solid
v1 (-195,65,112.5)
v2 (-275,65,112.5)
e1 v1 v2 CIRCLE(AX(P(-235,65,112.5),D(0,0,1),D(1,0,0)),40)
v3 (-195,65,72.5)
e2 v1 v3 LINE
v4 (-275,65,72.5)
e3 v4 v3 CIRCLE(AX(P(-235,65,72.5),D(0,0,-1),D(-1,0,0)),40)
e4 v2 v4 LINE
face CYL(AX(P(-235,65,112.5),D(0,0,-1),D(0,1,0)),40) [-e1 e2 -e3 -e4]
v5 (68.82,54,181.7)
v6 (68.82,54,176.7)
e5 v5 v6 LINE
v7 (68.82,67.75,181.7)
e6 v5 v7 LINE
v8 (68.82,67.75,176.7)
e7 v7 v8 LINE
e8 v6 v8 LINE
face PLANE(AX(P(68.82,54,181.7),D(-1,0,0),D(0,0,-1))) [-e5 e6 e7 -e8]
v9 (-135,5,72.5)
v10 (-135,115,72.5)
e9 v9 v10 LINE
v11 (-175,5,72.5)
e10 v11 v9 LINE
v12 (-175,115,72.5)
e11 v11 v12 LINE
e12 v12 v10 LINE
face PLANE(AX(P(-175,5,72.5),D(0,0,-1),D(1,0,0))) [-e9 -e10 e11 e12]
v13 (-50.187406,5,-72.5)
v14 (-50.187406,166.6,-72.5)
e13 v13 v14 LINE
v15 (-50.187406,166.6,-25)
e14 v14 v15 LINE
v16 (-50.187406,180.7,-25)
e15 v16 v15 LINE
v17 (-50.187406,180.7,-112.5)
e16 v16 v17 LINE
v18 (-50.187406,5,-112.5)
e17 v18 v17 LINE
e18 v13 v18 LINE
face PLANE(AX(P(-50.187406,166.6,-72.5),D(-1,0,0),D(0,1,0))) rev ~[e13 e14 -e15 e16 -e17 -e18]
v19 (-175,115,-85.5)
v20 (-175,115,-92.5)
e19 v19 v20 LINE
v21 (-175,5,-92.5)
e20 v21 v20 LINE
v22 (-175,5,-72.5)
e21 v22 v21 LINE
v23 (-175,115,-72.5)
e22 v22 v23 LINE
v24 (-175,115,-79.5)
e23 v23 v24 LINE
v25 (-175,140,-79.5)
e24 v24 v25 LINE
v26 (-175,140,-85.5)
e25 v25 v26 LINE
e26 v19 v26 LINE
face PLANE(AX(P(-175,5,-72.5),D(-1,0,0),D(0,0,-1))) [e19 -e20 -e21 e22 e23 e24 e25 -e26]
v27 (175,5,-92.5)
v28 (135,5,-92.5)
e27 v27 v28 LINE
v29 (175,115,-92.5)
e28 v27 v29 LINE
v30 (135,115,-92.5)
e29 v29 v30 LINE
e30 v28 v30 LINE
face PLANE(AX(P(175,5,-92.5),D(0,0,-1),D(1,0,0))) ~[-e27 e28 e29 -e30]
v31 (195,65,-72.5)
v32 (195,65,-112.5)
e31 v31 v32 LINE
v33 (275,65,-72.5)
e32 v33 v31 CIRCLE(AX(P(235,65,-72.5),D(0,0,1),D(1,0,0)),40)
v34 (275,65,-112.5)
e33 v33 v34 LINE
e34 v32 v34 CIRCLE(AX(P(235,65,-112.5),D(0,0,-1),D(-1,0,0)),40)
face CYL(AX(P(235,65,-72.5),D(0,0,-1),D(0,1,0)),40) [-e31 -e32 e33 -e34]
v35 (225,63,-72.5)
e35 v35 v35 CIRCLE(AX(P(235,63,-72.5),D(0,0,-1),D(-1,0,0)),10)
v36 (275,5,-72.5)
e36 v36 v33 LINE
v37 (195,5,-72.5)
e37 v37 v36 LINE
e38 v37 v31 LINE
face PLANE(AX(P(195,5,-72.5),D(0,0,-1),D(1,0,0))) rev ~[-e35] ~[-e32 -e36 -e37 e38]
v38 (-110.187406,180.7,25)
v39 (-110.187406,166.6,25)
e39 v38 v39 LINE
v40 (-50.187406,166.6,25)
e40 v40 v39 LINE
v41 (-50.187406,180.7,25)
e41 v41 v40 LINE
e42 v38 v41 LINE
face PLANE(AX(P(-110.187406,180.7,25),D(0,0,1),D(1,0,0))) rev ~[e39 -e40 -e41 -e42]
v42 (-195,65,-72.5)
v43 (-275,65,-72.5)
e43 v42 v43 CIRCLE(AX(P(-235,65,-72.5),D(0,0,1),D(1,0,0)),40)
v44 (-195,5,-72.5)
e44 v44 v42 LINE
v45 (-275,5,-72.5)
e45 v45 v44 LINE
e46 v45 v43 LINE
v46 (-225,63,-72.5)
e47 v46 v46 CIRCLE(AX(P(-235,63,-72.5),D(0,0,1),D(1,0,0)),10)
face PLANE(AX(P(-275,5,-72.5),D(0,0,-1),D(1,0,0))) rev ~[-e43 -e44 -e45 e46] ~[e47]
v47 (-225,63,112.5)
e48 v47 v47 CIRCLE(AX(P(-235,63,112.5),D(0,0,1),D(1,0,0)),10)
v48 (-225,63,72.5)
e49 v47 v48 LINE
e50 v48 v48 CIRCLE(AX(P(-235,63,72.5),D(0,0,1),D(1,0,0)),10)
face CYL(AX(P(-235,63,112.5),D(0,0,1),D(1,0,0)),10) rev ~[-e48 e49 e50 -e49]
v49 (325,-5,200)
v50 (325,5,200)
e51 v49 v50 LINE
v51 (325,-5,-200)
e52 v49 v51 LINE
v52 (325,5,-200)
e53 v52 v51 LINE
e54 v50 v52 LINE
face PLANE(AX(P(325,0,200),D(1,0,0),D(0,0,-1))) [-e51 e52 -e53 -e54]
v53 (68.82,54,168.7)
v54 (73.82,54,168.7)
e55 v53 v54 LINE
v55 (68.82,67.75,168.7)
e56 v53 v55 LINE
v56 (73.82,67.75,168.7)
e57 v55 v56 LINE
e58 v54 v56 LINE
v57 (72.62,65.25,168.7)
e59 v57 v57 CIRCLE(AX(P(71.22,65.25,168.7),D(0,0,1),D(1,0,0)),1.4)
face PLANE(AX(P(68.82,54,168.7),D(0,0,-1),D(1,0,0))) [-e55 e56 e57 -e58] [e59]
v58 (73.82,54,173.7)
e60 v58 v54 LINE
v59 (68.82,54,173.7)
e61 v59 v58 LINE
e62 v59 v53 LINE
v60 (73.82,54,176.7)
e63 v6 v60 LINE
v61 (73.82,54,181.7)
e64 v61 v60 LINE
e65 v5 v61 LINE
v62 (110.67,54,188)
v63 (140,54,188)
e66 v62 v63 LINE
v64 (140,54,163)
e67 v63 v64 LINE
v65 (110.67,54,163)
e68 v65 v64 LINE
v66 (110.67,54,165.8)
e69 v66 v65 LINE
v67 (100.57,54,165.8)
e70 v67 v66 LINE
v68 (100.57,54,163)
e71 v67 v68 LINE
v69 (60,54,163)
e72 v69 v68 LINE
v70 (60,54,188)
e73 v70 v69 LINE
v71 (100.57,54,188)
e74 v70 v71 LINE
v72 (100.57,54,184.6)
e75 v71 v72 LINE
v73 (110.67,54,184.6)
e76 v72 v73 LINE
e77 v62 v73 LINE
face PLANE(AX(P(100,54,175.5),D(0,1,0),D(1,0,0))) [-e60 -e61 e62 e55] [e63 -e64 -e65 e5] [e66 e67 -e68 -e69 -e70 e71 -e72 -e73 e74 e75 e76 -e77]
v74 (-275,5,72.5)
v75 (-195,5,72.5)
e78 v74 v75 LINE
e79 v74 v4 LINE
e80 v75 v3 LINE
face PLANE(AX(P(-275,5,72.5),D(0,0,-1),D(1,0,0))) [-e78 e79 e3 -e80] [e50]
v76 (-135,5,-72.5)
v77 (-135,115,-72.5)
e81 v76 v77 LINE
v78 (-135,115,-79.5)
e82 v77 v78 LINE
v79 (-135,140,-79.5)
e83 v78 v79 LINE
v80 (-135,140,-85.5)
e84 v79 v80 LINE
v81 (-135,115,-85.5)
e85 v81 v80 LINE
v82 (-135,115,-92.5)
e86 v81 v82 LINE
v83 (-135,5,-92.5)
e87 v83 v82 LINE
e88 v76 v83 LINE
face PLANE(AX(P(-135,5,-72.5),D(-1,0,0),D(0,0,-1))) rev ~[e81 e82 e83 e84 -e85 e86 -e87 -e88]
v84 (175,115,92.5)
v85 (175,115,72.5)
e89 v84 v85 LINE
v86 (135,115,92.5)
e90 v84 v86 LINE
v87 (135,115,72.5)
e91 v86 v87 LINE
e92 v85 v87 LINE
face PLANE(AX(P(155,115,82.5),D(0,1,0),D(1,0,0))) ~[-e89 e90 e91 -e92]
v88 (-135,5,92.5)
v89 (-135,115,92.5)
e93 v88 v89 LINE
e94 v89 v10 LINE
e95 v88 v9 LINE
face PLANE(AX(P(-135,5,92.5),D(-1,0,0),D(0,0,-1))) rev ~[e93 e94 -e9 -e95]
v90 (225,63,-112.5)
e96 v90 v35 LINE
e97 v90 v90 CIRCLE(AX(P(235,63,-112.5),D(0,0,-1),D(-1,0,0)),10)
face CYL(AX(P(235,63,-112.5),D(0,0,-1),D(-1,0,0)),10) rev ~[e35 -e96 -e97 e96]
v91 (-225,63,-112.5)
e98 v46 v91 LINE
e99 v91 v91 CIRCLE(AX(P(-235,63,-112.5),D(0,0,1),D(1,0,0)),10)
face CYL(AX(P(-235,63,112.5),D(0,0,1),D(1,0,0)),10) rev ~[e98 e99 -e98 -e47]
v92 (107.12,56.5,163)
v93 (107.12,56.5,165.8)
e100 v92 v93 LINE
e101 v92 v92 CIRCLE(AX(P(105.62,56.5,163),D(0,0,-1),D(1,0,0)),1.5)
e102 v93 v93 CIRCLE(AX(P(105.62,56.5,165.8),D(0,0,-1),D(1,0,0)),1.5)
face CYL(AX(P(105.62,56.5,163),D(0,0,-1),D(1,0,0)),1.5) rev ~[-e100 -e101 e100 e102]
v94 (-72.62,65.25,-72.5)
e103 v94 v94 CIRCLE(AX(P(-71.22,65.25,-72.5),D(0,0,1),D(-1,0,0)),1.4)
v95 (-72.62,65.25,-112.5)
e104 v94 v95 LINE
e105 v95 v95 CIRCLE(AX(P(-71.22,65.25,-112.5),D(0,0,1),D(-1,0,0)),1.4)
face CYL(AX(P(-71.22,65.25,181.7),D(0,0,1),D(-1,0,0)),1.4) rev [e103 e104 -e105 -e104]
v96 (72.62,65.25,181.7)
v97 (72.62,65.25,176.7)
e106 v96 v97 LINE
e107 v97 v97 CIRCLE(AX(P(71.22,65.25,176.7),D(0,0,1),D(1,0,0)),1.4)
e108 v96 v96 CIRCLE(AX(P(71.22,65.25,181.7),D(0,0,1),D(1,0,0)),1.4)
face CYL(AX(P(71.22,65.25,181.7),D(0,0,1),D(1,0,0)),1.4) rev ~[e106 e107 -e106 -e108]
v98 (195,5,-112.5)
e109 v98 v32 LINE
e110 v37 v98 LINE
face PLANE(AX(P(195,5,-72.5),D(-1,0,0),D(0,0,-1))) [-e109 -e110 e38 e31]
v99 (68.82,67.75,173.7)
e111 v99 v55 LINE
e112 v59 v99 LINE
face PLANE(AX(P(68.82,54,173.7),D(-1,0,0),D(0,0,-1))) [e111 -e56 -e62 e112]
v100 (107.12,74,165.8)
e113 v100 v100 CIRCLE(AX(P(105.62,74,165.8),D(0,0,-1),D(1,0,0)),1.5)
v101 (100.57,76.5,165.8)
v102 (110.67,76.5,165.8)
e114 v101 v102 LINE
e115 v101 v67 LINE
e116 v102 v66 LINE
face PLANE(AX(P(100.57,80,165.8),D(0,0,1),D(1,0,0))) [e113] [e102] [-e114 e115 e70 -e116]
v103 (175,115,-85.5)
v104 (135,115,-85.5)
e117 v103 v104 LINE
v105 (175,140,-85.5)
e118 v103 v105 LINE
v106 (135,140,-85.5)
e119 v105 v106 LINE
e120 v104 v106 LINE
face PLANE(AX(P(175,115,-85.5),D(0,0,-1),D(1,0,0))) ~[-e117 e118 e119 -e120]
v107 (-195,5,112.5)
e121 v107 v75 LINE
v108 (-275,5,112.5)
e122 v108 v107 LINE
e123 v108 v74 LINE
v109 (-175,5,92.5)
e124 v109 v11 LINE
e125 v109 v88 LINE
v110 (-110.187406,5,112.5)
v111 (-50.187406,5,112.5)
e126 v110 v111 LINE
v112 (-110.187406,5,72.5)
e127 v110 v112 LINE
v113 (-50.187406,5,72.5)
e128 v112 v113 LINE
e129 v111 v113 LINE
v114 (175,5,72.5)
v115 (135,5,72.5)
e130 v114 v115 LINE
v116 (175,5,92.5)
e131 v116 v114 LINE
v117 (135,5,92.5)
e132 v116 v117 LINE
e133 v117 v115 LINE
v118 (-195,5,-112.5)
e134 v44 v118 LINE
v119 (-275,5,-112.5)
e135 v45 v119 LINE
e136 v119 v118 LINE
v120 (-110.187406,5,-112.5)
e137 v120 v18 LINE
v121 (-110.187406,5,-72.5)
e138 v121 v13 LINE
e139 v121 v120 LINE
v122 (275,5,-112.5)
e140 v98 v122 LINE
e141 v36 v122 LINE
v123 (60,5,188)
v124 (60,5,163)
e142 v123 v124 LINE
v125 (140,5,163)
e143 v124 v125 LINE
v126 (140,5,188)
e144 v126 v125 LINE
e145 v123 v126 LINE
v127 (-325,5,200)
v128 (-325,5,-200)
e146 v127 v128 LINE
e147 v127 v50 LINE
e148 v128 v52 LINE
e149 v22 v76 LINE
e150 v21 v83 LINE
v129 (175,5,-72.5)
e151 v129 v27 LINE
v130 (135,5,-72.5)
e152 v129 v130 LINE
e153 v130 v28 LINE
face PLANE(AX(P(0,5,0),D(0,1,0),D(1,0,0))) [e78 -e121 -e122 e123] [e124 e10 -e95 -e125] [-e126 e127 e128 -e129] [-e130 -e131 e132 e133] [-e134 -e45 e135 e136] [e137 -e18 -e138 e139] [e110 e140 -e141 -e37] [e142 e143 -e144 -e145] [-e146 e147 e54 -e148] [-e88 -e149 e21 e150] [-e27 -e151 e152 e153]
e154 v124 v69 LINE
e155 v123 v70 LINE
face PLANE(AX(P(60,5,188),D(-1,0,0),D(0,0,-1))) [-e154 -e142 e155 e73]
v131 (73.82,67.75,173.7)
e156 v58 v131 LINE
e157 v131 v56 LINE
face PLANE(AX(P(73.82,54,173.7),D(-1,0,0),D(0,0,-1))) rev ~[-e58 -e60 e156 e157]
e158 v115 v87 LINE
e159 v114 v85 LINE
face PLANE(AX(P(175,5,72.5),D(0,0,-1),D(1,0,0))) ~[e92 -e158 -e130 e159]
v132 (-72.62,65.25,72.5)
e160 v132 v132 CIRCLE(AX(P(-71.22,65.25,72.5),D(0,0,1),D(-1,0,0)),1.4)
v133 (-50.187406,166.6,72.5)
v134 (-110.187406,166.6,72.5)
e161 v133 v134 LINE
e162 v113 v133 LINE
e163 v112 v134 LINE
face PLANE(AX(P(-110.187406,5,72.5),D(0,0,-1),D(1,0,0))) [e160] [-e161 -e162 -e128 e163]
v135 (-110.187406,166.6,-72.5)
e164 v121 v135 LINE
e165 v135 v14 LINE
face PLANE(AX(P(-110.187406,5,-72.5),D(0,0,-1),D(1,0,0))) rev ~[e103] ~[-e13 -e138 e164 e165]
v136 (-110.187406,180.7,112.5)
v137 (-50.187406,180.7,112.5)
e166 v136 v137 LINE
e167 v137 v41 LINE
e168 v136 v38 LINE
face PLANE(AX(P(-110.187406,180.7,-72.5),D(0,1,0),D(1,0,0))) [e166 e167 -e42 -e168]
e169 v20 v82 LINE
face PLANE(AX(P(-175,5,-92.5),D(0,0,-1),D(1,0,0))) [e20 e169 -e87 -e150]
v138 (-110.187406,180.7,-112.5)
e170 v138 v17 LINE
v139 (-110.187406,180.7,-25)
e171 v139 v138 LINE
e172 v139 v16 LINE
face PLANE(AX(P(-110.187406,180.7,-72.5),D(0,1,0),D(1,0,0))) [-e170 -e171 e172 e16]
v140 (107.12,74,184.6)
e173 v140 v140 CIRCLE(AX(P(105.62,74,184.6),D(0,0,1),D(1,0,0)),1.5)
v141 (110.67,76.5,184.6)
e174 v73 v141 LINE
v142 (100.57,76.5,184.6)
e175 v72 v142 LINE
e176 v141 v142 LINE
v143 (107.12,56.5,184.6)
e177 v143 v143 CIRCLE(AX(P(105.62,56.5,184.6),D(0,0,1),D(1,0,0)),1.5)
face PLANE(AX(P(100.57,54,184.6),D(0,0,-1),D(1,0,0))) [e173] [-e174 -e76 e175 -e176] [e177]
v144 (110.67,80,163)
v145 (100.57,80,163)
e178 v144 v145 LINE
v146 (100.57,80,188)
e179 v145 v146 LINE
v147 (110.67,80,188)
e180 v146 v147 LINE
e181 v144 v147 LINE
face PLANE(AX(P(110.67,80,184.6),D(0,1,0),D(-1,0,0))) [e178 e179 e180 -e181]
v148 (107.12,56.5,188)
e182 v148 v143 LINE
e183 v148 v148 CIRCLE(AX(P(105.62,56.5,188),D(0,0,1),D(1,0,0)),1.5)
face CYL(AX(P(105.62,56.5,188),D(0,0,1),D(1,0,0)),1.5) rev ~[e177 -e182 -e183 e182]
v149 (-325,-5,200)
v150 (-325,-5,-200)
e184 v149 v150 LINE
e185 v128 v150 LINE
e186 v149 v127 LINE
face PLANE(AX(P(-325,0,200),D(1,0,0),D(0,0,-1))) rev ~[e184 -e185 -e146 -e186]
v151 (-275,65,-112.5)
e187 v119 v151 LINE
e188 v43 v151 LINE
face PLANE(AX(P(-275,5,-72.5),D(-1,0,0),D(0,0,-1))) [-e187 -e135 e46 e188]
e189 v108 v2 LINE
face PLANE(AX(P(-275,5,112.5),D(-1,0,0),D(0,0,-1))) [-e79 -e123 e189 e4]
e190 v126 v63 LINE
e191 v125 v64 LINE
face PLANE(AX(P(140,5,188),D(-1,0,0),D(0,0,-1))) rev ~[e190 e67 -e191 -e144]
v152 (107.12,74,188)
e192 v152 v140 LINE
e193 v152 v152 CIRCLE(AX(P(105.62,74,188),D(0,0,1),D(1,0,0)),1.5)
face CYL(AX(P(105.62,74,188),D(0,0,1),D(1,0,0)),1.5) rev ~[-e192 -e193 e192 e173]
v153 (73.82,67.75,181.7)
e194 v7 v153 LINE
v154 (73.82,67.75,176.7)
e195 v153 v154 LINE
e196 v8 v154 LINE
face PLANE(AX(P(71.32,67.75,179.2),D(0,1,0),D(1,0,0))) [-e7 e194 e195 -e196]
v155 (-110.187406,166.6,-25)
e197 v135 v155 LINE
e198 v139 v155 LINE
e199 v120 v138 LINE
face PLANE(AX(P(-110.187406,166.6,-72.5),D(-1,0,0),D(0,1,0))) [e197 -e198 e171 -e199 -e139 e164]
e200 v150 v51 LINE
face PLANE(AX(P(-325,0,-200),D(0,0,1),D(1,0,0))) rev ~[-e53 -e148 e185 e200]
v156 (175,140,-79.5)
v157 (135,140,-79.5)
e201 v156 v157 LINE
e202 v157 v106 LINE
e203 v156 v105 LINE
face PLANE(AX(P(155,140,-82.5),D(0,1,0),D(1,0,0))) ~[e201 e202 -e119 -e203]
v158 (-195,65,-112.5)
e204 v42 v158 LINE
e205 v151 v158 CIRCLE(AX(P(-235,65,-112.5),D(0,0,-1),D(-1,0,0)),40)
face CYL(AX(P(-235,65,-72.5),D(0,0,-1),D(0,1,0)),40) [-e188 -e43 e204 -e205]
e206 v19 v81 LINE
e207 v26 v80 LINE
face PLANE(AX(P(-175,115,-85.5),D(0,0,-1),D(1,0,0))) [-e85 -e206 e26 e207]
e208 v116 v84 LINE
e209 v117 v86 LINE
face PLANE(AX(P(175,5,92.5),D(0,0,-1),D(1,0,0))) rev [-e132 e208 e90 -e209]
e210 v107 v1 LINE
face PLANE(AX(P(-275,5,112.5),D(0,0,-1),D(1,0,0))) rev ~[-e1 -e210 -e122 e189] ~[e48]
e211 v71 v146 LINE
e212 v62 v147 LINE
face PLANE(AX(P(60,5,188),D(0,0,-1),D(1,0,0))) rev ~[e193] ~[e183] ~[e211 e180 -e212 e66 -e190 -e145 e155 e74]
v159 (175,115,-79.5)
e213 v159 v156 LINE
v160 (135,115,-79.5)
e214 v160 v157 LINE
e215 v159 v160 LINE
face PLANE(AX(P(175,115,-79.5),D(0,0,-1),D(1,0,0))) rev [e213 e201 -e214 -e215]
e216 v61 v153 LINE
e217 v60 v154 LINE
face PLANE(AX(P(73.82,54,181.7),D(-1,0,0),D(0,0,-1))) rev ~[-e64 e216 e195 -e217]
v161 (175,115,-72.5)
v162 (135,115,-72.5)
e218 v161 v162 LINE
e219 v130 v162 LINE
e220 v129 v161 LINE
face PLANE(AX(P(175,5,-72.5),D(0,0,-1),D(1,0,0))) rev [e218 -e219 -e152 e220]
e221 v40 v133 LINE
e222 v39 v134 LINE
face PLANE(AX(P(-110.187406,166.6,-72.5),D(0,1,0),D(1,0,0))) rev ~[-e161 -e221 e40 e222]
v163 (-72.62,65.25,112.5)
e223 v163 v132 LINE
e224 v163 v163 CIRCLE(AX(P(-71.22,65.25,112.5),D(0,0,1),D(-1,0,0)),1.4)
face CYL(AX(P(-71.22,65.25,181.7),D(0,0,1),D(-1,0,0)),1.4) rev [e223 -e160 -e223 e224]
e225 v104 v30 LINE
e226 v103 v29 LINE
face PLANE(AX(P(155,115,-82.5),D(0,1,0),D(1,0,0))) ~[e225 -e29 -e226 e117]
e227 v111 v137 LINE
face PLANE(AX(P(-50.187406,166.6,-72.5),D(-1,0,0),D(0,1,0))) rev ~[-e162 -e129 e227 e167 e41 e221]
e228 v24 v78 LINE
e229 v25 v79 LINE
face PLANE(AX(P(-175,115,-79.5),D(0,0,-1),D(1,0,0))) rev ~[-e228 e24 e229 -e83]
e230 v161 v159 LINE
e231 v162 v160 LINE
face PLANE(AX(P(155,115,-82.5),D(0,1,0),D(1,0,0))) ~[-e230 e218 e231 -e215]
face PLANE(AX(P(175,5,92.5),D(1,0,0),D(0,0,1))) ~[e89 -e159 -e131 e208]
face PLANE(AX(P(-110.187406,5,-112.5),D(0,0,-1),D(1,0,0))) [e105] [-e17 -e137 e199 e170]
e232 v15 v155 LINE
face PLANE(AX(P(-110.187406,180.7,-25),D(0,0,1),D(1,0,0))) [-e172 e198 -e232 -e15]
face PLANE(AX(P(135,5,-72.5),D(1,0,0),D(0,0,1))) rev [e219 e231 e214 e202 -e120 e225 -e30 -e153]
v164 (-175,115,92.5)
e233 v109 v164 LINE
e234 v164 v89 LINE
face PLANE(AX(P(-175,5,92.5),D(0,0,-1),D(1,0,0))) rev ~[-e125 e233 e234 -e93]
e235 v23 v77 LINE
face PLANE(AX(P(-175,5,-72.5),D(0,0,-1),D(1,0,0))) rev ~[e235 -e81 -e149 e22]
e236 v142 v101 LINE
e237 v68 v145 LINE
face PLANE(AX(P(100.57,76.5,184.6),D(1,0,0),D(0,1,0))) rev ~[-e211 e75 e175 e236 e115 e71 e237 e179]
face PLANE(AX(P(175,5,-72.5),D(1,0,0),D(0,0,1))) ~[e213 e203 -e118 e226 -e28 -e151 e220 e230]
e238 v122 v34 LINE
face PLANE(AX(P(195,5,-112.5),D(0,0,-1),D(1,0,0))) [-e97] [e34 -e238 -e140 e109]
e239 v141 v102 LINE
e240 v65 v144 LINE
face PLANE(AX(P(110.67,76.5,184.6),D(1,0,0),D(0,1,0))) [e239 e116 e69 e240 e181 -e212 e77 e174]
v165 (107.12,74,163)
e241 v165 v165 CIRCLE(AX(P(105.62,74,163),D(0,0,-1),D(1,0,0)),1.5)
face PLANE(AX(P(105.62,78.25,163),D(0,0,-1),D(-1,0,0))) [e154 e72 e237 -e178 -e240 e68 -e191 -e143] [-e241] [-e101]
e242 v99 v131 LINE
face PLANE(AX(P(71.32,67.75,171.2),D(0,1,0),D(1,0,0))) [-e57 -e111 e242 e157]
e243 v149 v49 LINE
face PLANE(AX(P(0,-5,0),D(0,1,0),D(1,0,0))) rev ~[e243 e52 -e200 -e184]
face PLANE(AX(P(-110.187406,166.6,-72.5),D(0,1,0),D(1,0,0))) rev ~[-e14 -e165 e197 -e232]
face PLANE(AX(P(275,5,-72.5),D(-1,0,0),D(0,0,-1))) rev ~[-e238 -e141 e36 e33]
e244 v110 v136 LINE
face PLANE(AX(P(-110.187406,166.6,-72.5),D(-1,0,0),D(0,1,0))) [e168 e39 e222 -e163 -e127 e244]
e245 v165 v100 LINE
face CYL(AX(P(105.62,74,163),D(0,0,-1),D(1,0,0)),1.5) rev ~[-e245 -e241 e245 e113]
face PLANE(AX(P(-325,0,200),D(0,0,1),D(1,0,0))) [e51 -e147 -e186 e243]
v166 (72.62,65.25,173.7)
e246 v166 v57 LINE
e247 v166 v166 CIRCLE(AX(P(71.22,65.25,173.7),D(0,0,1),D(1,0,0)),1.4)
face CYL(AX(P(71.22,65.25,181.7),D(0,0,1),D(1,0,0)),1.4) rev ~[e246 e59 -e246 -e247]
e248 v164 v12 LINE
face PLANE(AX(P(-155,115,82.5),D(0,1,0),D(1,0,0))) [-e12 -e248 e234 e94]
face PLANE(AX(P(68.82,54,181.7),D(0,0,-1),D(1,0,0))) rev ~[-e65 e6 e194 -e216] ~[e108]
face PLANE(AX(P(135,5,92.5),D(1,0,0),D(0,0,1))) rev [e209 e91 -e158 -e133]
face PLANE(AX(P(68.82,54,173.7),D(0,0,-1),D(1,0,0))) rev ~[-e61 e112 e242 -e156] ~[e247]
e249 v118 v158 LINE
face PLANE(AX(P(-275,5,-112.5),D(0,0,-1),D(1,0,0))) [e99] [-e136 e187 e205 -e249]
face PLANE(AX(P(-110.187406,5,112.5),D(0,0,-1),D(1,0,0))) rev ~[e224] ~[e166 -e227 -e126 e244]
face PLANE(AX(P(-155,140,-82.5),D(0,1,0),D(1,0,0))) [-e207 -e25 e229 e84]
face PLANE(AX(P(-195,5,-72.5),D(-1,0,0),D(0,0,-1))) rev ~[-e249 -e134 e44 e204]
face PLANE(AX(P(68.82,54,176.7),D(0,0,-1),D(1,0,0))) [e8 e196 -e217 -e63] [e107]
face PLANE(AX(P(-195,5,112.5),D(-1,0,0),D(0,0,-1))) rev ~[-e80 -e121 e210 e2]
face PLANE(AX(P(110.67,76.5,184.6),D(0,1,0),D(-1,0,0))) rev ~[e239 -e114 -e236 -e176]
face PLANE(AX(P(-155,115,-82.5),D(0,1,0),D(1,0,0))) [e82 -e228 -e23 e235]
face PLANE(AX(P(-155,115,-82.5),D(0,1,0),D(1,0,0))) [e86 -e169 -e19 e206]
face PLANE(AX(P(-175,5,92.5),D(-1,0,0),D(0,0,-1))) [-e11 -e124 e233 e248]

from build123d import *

# Parameters (mm, degrees)
ESQUISSE2_W             = 650
ESQUISSE2_H             = 400
BOSS_EXTRU_1_DEPTH      = 5
ESQUISSE3_W             = 80
ESQUISSE3_H             = 40
BOSS_EXTRU_3_DEPTH      = 100
CONG_2_RADIUS           = 40
CONG_2_LENGTH           = 40
CONG_3_RADIUS           = 40
CONG_3_LENGTH           = 40
CONG_4_RADIUS           = 40
CONG_4_LENGTH           = 40
ESQUISSE6_R             = 10
ENL_V_MAT_EXTRU_2_DEPTH = 463.932230461
ESQUISSE7_R             = 10
ENL_V_MAT_EXTRU_3_DEPTH = 463.932230461
ESQUISSE9_W             = 80
ESQUISSE9_H             = 25
BOSS_EXTRU_4_DEPTH      = 49
ESQUISSE10_W            = 10.1
ESQUISSE10_H            = 3.4
BOSS_EXTRU_5_DEPTH      = 26
ENL_V_MAT_EXTRU_4_REACH = 518.908
ESQUISSE11_R            = 1.5
ESQUISSE12_W            = 10.1
ESQUISSE12_H            = 3.5
BOSS_EXTRU_6_DEPTH      = 21.6
ESQUISSE13_W            = 10.1
ESQUISSE13_H            = 2.8
BOSS_EXTRU_7_DEPTH      = 26
ENL_V_MAT_EXTRU_5_REACH = 500.416
ESQUISSE14_R            = 1.5
ESQUISSE15_W            = 5
ESQUISSE15_H            = 5
BOSS_EXTRU_8_DEPTH      = 13.75
ESQUISSE16_R            = 1.4
ENL_V_MAT_EXTRU_6_DEPTH = 513.19614407
ESQUISSE17_W            = 40
ESQUISSE17_H            = 20
BOSS_EXTRU_9_DEPTH      = 110
ESQUISSE18_W            = 40
ESQUISSE18_H            = 6
BOSS_EXTRU_10_DEPTH     = 25
ESQUISSE20_W            = 60
ESQUISSE20_H            = 40
BOSS_EXTRU_11_DEPTH     = 175.7
BOSS_EXTRU_12_REACH     = 463.014
ESQUISSE21_W            = 60
ESQUISSE21_H            = 14.1
ENL_V_MAT_EXTRU_7_REACH = 426.393
ESQUISSE22_W            = 60
ESQUISSE22_H            = 50


with BuildPart() as part:
    # Esquisse2 → Boss.-Extru.1 (new, symmetric)
    with BuildSketch(Plane(origin=(0, 0, 0), x_dir=(1, 0, 0), z_dir=(0, 1, 0))):
        Rectangle(ESQUISSE2_W, ESQUISSE2_H)
    extrude(amount=BOSS_EXTRU_1_DEPTH, both=True)

    # Esquisse3 → Boss.-Extru.3 (add)
    with BuildSketch(Plane(origin=(0, 5, 0), x_dir=(1, 0, 0), z_dir=(0, 1, 0))):
        with Locations((-235, -92.5)):
            Rectangle(ESQUISSE3_W, ESQUISSE3_H)
        with Locations((235, 92.5)):
            Rectangle(ESQUISSE3_W, ESQUISSE3_H)
        with Locations((-235, 92.5)):
            Rectangle(ESQUISSE3_W, ESQUISSE3_H)
    extrude(amount=BOSS_EXTRU_3_DEPTH)

    # Congé2: full round fillet: the end face becomes a half cylinder, R = half its width
    cong_2_face = Plane((-235, 105, 92.5), x_dir=(0, 0, -1), z_dir=(0, 1, 0))  # on the end face: x along it, z out of the body
    cong_2_slab = cong_2_face.offset(-CONG_2_RADIUS / 2) * Box(CONG_2_LENGTH, 2 * CONG_2_RADIUS, CONG_2_RADIUS, mode=Mode.PRIVATE)  # the body's end, R deep
    cong_2_round = Plane((-235, 65, 92.5), x_dir=(0, 1, 0), z_dir=(0, 0, -1)) * Cylinder(CONG_2_RADIUS, CONG_2_LENGTH, mode=Mode.PRIVATE)  # its axis R under the face
    add(cong_2_slab - cong_2_round, mode=Mode.SUBTRACT)

    # Congé3: full round fillet: the end face becomes a half cylinder, R = half its width
    cong_3_face = Plane((-235, 105, -92.5), x_dir=(0, 0, -1), z_dir=(0, 1, 0))  # on the end face: x along it, z out of the body
    cong_3_slab = cong_3_face.offset(-CONG_3_RADIUS / 2) * Box(CONG_3_LENGTH, 2 * CONG_3_RADIUS, CONG_3_RADIUS, mode=Mode.PRIVATE)  # the body's end, R deep
    cong_3_round = Plane((-235, 65, -92.5), x_dir=(0, 1, 0), z_dir=(0, 0, -1)) * Cylinder(CONG_3_RADIUS, CONG_3_LENGTH, mode=Mode.PRIVATE)  # its axis R under the face
    add(cong_3_slab - cong_3_round, mode=Mode.SUBTRACT)

    # Congé4: full round fillet: the end face becomes a half cylinder, R = half its width
    cong_4_face = Plane((235, 105, -92.5), x_dir=(0, 0, -1), z_dir=(0, 1, 0))  # on the end face: x along it, z out of the body
    cong_4_slab = cong_4_face.offset(-CONG_4_RADIUS / 2) * Box(CONG_4_LENGTH, 2 * CONG_4_RADIUS, CONG_4_RADIUS, mode=Mode.PRIVATE)  # the body's end, R deep
    cong_4_round = Plane((235, 65, -92.5), x_dir=(0, 1, 0), z_dir=(0, 0, -1)) * Cylinder(CONG_4_RADIUS, CONG_4_LENGTH, mode=Mode.PRIVATE)  # its axis R under the face
    add(cong_4_slab - cong_4_round, mode=Mode.SUBTRACT)

    # Esquisse6 → Enlèv. mat.-Extru.2 (cut, through all)
    with BuildSketch(Plane.XY.offset(112.5)):
        with Locations((-235, 63)):
            Circle(ESQUISSE6_R)
    extrude(amount=-ENL_V_MAT_EXTRU_2_DEPTH, mode=Mode.SUBTRACT)

    # Esquisse7 → Enlèv. mat.-Extru.3 (cut, through all)
    with BuildSketch(Plane(origin=(0, 0, -112.5), x_dir=(-1, 0, 0), z_dir=(0, 0, -1))):
        with Locations((-235, 63)):
            Circle(ESQUISSE7_R)
    extrude(amount=-ENL_V_MAT_EXTRU_3_DEPTH, mode=Mode.SUBTRACT)

    # Esquisse9 → Boss.-Extru.4 (add)
    with BuildSketch(Plane(origin=(0, 5, 0), x_dir=(1, 0, 0), z_dir=(0, 1, 0))):
        with Locations((100, -175.5)):
            Rectangle(ESQUISSE9_W, ESQUISSE9_H)
    extrude(amount=BOSS_EXTRU_4_DEPTH)

    # Esquisse10 → Boss.-Extru.5 (add)
    with BuildSketch(Plane(origin=(0, 54, 0), x_dir=(1, 0, 0), z_dir=(0, 1, 0))):
        with Locations((105.62, -186.3)):
            Rectangle(ESQUISSE10_W, ESQUISSE10_H)
    extrude(amount=BOSS_EXTRU_5_DEPTH)

    # Esquisse11 → Enlèv. mat.-Extru.4 (cut, up to next)
    with BuildSketch(Plane.XY.offset(188), mode=Mode.PRIVATE) as enl_v_mat_extru_4_sk1:
        with Locations((105.62, 56.5)):
            Circle(ESQUISSE11_R)
    enl_v_mat_extru_4_tool1 = extrude(enl_v_mat_extru_4_sk1.sketch, amount=-ENL_V_MAT_EXTRU_4_REACH, mode=Mode.PRIVATE) & part.part
    # Esquisse11 → Enlèv. mat.-Extru.4 (cut, up to next)
    with BuildSketch(Plane.XY.offset(188), mode=Mode.PRIVATE) as enl_v_mat_extru_4_sk2:
        with Locations((105.62, 74)):
            Circle(ESQUISSE11_R)
    enl_v_mat_extru_4_tool2 = extrude(enl_v_mat_extru_4_sk2.sketch, amount=-ENL_V_MAT_EXTRU_4_REACH, mode=Mode.PRIVATE) & part.part
    add(enl_v_mat_extru_4_tool1.solids().sort_by_distance((105.62, 56.5, 188))[0], mode=Mode.SUBTRACT)
    add(enl_v_mat_extru_4_tool2.solids().sort_by_distance((105.62, 74, 188))[0], mode=Mode.SUBTRACT)

    # Esquisse12 → Boss.-Extru.6 (add)
    with BuildSketch(Plane(origin=(0, 0, 184.6), x_dir=(-1, 0, 0), z_dir=(0, 0, -1))):
        with Locations((-105.62, 78.25)):
            Rectangle(ESQUISSE12_W, ESQUISSE12_H)
    extrude(amount=BOSS_EXTRU_6_DEPTH)

    # Esquisse13 → Boss.-Extru.7 (add)
    with BuildSketch(Plane(origin=(0, 80, 0), x_dir=(1, 0, 0), z_dir=(0, 1, 0))):
        with Locations((105.62, -164.4)):
            Rectangle(ESQUISSE13_W, ESQUISSE13_H)
    extrude(amount=-BOSS_EXTRU_7_DEPTH)

    # Esquisse14 → Enlèv. mat.-Extru.5 (cut, up to next)
    with BuildSketch(Plane(origin=(0, 0, 163), x_dir=(-1, 0, 0), z_dir=(0, 0, -1)), mode=Mode.PRIVATE) as enl_v_mat_extru_5_sk1:
        with Locations(Location((-105.62, 74, 0), (0, 0, 180))):
            Circle(ESQUISSE14_R)
    enl_v_mat_extru_5_tool1 = extrude(enl_v_mat_extru_5_sk1.sketch, amount=-ENL_V_MAT_EXTRU_5_REACH, mode=Mode.PRIVATE) & part.part
    # Esquisse14 → Enlèv. mat.-Extru.5 (cut, up to next)
    with BuildSketch(Plane(origin=(0, 0, 163), x_dir=(-1, 0, 0), z_dir=(0, 0, -1)), mode=Mode.PRIVATE) as enl_v_mat_extru_5_sk2:
        with Locations(Location((-105.62, 56.5, 0), (0, 0, 180))):
            Circle(ESQUISSE14_R)
    enl_v_mat_extru_5_tool2 = extrude(enl_v_mat_extru_5_sk2.sketch, amount=-ENL_V_MAT_EXTRU_5_REACH, mode=Mode.PRIVATE) & part.part
    add(enl_v_mat_extru_5_tool1.solids().sort_by_distance((105.62, 74, 163))[0], mode=Mode.SUBTRACT)
    add(enl_v_mat_extru_5_tool2.solids().sort_by_distance((105.62, 56.5, 163))[0], mode=Mode.SUBTRACT)

    # Esquisse15 → Boss.-Extru.8 (add)
    with BuildSketch(Plane(origin=(0, 54, 0), x_dir=(1, 0, 0), z_dir=(0, 1, 0))):
        with Locations((71.32, -179.2)):
            Rectangle(ESQUISSE15_W, ESQUISSE15_H)
        with Locations((71.32, -171.2)):
            Rectangle(ESQUISSE15_W, ESQUISSE15_H)
    extrude(amount=BOSS_EXTRU_8_DEPTH)

    # Esquisse16 → Enlèv. mat.-Extru.6 (cut, through all)
    with BuildSketch(Plane.XY.offset(181.7)):
        with Locations((71.22, 65.25)):
            Circle(ESQUISSE16_R)
    enl_v_mat_extru_6 = extrude(amount=-ENL_V_MAT_EXTRU_6_DEPTH, mode=Mode.SUBTRACT)

    # Esquisse17 → Boss.-Extru.9 (add)
    with BuildSketch(Plane(origin=(0, 5, 0), x_dir=(1, 0, 0), z_dir=(0, 1, 0))):
        with Locations((-155, -82.5)):
            Rectangle(ESQUISSE17_W, ESQUISSE17_H)
        with Locations((-155, 82.5)):
            Rectangle(ESQUISSE17_W, ESQUISSE17_H)
    boss_extru_9 = extrude(amount=BOSS_EXTRU_9_DEPTH)

    # Esquisse18 → Boss.-Extru.10 (add)
    with BuildSketch(Plane(origin=(0, 115, 0), x_dir=(1, 0, 0), z_dir=(0, 1, 0))):
        with Locations((-155, 82.5)):
            Rectangle(ESQUISSE18_W, ESQUISSE18_H)
    boss_extru_10 = extrude(amount=BOSS_EXTRU_10_DEPTH)

    # Esquisse20 → Boss.-Extru.11 (add)
    with BuildSketch(Plane(origin=(0, 5, 0), x_dir=(1, 0, 0), z_dir=(0, 1, 0))):
        with Locations((-80.1874064, -92.5)):
            Rectangle(ESQUISSE20_W, ESQUISSE20_H)
        with Locations((-80.1874064, 92.5)):
            Rectangle(ESQUISSE20_W, ESQUISSE20_H)
    extrude(amount=BOSS_EXTRU_11_DEPTH)

    # Esquisse21 → Boss.-Extru.12 (add, up to next)
    with BuildSketch(Plane.XY.offset(-72.5), mode=Mode.PRIVATE) as boss_extru_12_sk1:
        with Locations((-80.1874064, 173.65)):
            Rectangle(ESQUISSE21_W, ESQUISSE21_H)
    boss_extru_12_tool1 = extrude(boss_extru_12_sk1.sketch, amount=BOSS_EXTRU_12_REACH, mode=Mode.PRIVATE) - part.part
    add(boss_extru_12_tool1.solids().sort_by_distance((-80.187406, 173.65, -72.5))[0])

    # Esquisse22 → Enlèv. mat.-Extru.7 (cut, up to next)
    with BuildSketch(Plane(origin=(0, 180.7, 0), x_dir=(1, 0, 0), z_dir=(0, 1, 0)), mode=Mode.PRIVATE) as enl_v_mat_extru_7_sk1:
        with Locations((-80.1874064, 0)):
            Rectangle(ESQUISSE22_W, ESQUISSE22_H)
    enl_v_mat_extru_7_tool1 = extrude(enl_v_mat_extru_7_sk1.sketch, amount=-ENL_V_MAT_EXTRU_7_REACH, mode=Mode.PRIVATE) & part.part
    add(enl_v_mat_extru_7_tool1.solids().sort_by_distance((-80.187406, 180.7, 0))[0], mode=Mode.SUBTRACT)

    # Symétrie1: Enlèv. mat.-Extru.6, Boss.-Extru.9, Boss.-Extru.10 across plane
    add(enl_v_mat_extru_6.mirror(Plane(origin=(0, 0, 0), x_dir=(0, 0, 1), z_dir=(1, 0, 0))), mode=Mode.SUBTRACT)
    add(boss_extru_9.mirror(Plane(origin=(0, 0, 0), x_dir=(0, 0, 1), z_dir=(1, 0, 0))))
    add(boss_extru_10.mirror(Plane(origin=(0, 0, 0), x_dir=(0, 0, 1), z_dir=(1, 0, 0))))


solid = part.part
